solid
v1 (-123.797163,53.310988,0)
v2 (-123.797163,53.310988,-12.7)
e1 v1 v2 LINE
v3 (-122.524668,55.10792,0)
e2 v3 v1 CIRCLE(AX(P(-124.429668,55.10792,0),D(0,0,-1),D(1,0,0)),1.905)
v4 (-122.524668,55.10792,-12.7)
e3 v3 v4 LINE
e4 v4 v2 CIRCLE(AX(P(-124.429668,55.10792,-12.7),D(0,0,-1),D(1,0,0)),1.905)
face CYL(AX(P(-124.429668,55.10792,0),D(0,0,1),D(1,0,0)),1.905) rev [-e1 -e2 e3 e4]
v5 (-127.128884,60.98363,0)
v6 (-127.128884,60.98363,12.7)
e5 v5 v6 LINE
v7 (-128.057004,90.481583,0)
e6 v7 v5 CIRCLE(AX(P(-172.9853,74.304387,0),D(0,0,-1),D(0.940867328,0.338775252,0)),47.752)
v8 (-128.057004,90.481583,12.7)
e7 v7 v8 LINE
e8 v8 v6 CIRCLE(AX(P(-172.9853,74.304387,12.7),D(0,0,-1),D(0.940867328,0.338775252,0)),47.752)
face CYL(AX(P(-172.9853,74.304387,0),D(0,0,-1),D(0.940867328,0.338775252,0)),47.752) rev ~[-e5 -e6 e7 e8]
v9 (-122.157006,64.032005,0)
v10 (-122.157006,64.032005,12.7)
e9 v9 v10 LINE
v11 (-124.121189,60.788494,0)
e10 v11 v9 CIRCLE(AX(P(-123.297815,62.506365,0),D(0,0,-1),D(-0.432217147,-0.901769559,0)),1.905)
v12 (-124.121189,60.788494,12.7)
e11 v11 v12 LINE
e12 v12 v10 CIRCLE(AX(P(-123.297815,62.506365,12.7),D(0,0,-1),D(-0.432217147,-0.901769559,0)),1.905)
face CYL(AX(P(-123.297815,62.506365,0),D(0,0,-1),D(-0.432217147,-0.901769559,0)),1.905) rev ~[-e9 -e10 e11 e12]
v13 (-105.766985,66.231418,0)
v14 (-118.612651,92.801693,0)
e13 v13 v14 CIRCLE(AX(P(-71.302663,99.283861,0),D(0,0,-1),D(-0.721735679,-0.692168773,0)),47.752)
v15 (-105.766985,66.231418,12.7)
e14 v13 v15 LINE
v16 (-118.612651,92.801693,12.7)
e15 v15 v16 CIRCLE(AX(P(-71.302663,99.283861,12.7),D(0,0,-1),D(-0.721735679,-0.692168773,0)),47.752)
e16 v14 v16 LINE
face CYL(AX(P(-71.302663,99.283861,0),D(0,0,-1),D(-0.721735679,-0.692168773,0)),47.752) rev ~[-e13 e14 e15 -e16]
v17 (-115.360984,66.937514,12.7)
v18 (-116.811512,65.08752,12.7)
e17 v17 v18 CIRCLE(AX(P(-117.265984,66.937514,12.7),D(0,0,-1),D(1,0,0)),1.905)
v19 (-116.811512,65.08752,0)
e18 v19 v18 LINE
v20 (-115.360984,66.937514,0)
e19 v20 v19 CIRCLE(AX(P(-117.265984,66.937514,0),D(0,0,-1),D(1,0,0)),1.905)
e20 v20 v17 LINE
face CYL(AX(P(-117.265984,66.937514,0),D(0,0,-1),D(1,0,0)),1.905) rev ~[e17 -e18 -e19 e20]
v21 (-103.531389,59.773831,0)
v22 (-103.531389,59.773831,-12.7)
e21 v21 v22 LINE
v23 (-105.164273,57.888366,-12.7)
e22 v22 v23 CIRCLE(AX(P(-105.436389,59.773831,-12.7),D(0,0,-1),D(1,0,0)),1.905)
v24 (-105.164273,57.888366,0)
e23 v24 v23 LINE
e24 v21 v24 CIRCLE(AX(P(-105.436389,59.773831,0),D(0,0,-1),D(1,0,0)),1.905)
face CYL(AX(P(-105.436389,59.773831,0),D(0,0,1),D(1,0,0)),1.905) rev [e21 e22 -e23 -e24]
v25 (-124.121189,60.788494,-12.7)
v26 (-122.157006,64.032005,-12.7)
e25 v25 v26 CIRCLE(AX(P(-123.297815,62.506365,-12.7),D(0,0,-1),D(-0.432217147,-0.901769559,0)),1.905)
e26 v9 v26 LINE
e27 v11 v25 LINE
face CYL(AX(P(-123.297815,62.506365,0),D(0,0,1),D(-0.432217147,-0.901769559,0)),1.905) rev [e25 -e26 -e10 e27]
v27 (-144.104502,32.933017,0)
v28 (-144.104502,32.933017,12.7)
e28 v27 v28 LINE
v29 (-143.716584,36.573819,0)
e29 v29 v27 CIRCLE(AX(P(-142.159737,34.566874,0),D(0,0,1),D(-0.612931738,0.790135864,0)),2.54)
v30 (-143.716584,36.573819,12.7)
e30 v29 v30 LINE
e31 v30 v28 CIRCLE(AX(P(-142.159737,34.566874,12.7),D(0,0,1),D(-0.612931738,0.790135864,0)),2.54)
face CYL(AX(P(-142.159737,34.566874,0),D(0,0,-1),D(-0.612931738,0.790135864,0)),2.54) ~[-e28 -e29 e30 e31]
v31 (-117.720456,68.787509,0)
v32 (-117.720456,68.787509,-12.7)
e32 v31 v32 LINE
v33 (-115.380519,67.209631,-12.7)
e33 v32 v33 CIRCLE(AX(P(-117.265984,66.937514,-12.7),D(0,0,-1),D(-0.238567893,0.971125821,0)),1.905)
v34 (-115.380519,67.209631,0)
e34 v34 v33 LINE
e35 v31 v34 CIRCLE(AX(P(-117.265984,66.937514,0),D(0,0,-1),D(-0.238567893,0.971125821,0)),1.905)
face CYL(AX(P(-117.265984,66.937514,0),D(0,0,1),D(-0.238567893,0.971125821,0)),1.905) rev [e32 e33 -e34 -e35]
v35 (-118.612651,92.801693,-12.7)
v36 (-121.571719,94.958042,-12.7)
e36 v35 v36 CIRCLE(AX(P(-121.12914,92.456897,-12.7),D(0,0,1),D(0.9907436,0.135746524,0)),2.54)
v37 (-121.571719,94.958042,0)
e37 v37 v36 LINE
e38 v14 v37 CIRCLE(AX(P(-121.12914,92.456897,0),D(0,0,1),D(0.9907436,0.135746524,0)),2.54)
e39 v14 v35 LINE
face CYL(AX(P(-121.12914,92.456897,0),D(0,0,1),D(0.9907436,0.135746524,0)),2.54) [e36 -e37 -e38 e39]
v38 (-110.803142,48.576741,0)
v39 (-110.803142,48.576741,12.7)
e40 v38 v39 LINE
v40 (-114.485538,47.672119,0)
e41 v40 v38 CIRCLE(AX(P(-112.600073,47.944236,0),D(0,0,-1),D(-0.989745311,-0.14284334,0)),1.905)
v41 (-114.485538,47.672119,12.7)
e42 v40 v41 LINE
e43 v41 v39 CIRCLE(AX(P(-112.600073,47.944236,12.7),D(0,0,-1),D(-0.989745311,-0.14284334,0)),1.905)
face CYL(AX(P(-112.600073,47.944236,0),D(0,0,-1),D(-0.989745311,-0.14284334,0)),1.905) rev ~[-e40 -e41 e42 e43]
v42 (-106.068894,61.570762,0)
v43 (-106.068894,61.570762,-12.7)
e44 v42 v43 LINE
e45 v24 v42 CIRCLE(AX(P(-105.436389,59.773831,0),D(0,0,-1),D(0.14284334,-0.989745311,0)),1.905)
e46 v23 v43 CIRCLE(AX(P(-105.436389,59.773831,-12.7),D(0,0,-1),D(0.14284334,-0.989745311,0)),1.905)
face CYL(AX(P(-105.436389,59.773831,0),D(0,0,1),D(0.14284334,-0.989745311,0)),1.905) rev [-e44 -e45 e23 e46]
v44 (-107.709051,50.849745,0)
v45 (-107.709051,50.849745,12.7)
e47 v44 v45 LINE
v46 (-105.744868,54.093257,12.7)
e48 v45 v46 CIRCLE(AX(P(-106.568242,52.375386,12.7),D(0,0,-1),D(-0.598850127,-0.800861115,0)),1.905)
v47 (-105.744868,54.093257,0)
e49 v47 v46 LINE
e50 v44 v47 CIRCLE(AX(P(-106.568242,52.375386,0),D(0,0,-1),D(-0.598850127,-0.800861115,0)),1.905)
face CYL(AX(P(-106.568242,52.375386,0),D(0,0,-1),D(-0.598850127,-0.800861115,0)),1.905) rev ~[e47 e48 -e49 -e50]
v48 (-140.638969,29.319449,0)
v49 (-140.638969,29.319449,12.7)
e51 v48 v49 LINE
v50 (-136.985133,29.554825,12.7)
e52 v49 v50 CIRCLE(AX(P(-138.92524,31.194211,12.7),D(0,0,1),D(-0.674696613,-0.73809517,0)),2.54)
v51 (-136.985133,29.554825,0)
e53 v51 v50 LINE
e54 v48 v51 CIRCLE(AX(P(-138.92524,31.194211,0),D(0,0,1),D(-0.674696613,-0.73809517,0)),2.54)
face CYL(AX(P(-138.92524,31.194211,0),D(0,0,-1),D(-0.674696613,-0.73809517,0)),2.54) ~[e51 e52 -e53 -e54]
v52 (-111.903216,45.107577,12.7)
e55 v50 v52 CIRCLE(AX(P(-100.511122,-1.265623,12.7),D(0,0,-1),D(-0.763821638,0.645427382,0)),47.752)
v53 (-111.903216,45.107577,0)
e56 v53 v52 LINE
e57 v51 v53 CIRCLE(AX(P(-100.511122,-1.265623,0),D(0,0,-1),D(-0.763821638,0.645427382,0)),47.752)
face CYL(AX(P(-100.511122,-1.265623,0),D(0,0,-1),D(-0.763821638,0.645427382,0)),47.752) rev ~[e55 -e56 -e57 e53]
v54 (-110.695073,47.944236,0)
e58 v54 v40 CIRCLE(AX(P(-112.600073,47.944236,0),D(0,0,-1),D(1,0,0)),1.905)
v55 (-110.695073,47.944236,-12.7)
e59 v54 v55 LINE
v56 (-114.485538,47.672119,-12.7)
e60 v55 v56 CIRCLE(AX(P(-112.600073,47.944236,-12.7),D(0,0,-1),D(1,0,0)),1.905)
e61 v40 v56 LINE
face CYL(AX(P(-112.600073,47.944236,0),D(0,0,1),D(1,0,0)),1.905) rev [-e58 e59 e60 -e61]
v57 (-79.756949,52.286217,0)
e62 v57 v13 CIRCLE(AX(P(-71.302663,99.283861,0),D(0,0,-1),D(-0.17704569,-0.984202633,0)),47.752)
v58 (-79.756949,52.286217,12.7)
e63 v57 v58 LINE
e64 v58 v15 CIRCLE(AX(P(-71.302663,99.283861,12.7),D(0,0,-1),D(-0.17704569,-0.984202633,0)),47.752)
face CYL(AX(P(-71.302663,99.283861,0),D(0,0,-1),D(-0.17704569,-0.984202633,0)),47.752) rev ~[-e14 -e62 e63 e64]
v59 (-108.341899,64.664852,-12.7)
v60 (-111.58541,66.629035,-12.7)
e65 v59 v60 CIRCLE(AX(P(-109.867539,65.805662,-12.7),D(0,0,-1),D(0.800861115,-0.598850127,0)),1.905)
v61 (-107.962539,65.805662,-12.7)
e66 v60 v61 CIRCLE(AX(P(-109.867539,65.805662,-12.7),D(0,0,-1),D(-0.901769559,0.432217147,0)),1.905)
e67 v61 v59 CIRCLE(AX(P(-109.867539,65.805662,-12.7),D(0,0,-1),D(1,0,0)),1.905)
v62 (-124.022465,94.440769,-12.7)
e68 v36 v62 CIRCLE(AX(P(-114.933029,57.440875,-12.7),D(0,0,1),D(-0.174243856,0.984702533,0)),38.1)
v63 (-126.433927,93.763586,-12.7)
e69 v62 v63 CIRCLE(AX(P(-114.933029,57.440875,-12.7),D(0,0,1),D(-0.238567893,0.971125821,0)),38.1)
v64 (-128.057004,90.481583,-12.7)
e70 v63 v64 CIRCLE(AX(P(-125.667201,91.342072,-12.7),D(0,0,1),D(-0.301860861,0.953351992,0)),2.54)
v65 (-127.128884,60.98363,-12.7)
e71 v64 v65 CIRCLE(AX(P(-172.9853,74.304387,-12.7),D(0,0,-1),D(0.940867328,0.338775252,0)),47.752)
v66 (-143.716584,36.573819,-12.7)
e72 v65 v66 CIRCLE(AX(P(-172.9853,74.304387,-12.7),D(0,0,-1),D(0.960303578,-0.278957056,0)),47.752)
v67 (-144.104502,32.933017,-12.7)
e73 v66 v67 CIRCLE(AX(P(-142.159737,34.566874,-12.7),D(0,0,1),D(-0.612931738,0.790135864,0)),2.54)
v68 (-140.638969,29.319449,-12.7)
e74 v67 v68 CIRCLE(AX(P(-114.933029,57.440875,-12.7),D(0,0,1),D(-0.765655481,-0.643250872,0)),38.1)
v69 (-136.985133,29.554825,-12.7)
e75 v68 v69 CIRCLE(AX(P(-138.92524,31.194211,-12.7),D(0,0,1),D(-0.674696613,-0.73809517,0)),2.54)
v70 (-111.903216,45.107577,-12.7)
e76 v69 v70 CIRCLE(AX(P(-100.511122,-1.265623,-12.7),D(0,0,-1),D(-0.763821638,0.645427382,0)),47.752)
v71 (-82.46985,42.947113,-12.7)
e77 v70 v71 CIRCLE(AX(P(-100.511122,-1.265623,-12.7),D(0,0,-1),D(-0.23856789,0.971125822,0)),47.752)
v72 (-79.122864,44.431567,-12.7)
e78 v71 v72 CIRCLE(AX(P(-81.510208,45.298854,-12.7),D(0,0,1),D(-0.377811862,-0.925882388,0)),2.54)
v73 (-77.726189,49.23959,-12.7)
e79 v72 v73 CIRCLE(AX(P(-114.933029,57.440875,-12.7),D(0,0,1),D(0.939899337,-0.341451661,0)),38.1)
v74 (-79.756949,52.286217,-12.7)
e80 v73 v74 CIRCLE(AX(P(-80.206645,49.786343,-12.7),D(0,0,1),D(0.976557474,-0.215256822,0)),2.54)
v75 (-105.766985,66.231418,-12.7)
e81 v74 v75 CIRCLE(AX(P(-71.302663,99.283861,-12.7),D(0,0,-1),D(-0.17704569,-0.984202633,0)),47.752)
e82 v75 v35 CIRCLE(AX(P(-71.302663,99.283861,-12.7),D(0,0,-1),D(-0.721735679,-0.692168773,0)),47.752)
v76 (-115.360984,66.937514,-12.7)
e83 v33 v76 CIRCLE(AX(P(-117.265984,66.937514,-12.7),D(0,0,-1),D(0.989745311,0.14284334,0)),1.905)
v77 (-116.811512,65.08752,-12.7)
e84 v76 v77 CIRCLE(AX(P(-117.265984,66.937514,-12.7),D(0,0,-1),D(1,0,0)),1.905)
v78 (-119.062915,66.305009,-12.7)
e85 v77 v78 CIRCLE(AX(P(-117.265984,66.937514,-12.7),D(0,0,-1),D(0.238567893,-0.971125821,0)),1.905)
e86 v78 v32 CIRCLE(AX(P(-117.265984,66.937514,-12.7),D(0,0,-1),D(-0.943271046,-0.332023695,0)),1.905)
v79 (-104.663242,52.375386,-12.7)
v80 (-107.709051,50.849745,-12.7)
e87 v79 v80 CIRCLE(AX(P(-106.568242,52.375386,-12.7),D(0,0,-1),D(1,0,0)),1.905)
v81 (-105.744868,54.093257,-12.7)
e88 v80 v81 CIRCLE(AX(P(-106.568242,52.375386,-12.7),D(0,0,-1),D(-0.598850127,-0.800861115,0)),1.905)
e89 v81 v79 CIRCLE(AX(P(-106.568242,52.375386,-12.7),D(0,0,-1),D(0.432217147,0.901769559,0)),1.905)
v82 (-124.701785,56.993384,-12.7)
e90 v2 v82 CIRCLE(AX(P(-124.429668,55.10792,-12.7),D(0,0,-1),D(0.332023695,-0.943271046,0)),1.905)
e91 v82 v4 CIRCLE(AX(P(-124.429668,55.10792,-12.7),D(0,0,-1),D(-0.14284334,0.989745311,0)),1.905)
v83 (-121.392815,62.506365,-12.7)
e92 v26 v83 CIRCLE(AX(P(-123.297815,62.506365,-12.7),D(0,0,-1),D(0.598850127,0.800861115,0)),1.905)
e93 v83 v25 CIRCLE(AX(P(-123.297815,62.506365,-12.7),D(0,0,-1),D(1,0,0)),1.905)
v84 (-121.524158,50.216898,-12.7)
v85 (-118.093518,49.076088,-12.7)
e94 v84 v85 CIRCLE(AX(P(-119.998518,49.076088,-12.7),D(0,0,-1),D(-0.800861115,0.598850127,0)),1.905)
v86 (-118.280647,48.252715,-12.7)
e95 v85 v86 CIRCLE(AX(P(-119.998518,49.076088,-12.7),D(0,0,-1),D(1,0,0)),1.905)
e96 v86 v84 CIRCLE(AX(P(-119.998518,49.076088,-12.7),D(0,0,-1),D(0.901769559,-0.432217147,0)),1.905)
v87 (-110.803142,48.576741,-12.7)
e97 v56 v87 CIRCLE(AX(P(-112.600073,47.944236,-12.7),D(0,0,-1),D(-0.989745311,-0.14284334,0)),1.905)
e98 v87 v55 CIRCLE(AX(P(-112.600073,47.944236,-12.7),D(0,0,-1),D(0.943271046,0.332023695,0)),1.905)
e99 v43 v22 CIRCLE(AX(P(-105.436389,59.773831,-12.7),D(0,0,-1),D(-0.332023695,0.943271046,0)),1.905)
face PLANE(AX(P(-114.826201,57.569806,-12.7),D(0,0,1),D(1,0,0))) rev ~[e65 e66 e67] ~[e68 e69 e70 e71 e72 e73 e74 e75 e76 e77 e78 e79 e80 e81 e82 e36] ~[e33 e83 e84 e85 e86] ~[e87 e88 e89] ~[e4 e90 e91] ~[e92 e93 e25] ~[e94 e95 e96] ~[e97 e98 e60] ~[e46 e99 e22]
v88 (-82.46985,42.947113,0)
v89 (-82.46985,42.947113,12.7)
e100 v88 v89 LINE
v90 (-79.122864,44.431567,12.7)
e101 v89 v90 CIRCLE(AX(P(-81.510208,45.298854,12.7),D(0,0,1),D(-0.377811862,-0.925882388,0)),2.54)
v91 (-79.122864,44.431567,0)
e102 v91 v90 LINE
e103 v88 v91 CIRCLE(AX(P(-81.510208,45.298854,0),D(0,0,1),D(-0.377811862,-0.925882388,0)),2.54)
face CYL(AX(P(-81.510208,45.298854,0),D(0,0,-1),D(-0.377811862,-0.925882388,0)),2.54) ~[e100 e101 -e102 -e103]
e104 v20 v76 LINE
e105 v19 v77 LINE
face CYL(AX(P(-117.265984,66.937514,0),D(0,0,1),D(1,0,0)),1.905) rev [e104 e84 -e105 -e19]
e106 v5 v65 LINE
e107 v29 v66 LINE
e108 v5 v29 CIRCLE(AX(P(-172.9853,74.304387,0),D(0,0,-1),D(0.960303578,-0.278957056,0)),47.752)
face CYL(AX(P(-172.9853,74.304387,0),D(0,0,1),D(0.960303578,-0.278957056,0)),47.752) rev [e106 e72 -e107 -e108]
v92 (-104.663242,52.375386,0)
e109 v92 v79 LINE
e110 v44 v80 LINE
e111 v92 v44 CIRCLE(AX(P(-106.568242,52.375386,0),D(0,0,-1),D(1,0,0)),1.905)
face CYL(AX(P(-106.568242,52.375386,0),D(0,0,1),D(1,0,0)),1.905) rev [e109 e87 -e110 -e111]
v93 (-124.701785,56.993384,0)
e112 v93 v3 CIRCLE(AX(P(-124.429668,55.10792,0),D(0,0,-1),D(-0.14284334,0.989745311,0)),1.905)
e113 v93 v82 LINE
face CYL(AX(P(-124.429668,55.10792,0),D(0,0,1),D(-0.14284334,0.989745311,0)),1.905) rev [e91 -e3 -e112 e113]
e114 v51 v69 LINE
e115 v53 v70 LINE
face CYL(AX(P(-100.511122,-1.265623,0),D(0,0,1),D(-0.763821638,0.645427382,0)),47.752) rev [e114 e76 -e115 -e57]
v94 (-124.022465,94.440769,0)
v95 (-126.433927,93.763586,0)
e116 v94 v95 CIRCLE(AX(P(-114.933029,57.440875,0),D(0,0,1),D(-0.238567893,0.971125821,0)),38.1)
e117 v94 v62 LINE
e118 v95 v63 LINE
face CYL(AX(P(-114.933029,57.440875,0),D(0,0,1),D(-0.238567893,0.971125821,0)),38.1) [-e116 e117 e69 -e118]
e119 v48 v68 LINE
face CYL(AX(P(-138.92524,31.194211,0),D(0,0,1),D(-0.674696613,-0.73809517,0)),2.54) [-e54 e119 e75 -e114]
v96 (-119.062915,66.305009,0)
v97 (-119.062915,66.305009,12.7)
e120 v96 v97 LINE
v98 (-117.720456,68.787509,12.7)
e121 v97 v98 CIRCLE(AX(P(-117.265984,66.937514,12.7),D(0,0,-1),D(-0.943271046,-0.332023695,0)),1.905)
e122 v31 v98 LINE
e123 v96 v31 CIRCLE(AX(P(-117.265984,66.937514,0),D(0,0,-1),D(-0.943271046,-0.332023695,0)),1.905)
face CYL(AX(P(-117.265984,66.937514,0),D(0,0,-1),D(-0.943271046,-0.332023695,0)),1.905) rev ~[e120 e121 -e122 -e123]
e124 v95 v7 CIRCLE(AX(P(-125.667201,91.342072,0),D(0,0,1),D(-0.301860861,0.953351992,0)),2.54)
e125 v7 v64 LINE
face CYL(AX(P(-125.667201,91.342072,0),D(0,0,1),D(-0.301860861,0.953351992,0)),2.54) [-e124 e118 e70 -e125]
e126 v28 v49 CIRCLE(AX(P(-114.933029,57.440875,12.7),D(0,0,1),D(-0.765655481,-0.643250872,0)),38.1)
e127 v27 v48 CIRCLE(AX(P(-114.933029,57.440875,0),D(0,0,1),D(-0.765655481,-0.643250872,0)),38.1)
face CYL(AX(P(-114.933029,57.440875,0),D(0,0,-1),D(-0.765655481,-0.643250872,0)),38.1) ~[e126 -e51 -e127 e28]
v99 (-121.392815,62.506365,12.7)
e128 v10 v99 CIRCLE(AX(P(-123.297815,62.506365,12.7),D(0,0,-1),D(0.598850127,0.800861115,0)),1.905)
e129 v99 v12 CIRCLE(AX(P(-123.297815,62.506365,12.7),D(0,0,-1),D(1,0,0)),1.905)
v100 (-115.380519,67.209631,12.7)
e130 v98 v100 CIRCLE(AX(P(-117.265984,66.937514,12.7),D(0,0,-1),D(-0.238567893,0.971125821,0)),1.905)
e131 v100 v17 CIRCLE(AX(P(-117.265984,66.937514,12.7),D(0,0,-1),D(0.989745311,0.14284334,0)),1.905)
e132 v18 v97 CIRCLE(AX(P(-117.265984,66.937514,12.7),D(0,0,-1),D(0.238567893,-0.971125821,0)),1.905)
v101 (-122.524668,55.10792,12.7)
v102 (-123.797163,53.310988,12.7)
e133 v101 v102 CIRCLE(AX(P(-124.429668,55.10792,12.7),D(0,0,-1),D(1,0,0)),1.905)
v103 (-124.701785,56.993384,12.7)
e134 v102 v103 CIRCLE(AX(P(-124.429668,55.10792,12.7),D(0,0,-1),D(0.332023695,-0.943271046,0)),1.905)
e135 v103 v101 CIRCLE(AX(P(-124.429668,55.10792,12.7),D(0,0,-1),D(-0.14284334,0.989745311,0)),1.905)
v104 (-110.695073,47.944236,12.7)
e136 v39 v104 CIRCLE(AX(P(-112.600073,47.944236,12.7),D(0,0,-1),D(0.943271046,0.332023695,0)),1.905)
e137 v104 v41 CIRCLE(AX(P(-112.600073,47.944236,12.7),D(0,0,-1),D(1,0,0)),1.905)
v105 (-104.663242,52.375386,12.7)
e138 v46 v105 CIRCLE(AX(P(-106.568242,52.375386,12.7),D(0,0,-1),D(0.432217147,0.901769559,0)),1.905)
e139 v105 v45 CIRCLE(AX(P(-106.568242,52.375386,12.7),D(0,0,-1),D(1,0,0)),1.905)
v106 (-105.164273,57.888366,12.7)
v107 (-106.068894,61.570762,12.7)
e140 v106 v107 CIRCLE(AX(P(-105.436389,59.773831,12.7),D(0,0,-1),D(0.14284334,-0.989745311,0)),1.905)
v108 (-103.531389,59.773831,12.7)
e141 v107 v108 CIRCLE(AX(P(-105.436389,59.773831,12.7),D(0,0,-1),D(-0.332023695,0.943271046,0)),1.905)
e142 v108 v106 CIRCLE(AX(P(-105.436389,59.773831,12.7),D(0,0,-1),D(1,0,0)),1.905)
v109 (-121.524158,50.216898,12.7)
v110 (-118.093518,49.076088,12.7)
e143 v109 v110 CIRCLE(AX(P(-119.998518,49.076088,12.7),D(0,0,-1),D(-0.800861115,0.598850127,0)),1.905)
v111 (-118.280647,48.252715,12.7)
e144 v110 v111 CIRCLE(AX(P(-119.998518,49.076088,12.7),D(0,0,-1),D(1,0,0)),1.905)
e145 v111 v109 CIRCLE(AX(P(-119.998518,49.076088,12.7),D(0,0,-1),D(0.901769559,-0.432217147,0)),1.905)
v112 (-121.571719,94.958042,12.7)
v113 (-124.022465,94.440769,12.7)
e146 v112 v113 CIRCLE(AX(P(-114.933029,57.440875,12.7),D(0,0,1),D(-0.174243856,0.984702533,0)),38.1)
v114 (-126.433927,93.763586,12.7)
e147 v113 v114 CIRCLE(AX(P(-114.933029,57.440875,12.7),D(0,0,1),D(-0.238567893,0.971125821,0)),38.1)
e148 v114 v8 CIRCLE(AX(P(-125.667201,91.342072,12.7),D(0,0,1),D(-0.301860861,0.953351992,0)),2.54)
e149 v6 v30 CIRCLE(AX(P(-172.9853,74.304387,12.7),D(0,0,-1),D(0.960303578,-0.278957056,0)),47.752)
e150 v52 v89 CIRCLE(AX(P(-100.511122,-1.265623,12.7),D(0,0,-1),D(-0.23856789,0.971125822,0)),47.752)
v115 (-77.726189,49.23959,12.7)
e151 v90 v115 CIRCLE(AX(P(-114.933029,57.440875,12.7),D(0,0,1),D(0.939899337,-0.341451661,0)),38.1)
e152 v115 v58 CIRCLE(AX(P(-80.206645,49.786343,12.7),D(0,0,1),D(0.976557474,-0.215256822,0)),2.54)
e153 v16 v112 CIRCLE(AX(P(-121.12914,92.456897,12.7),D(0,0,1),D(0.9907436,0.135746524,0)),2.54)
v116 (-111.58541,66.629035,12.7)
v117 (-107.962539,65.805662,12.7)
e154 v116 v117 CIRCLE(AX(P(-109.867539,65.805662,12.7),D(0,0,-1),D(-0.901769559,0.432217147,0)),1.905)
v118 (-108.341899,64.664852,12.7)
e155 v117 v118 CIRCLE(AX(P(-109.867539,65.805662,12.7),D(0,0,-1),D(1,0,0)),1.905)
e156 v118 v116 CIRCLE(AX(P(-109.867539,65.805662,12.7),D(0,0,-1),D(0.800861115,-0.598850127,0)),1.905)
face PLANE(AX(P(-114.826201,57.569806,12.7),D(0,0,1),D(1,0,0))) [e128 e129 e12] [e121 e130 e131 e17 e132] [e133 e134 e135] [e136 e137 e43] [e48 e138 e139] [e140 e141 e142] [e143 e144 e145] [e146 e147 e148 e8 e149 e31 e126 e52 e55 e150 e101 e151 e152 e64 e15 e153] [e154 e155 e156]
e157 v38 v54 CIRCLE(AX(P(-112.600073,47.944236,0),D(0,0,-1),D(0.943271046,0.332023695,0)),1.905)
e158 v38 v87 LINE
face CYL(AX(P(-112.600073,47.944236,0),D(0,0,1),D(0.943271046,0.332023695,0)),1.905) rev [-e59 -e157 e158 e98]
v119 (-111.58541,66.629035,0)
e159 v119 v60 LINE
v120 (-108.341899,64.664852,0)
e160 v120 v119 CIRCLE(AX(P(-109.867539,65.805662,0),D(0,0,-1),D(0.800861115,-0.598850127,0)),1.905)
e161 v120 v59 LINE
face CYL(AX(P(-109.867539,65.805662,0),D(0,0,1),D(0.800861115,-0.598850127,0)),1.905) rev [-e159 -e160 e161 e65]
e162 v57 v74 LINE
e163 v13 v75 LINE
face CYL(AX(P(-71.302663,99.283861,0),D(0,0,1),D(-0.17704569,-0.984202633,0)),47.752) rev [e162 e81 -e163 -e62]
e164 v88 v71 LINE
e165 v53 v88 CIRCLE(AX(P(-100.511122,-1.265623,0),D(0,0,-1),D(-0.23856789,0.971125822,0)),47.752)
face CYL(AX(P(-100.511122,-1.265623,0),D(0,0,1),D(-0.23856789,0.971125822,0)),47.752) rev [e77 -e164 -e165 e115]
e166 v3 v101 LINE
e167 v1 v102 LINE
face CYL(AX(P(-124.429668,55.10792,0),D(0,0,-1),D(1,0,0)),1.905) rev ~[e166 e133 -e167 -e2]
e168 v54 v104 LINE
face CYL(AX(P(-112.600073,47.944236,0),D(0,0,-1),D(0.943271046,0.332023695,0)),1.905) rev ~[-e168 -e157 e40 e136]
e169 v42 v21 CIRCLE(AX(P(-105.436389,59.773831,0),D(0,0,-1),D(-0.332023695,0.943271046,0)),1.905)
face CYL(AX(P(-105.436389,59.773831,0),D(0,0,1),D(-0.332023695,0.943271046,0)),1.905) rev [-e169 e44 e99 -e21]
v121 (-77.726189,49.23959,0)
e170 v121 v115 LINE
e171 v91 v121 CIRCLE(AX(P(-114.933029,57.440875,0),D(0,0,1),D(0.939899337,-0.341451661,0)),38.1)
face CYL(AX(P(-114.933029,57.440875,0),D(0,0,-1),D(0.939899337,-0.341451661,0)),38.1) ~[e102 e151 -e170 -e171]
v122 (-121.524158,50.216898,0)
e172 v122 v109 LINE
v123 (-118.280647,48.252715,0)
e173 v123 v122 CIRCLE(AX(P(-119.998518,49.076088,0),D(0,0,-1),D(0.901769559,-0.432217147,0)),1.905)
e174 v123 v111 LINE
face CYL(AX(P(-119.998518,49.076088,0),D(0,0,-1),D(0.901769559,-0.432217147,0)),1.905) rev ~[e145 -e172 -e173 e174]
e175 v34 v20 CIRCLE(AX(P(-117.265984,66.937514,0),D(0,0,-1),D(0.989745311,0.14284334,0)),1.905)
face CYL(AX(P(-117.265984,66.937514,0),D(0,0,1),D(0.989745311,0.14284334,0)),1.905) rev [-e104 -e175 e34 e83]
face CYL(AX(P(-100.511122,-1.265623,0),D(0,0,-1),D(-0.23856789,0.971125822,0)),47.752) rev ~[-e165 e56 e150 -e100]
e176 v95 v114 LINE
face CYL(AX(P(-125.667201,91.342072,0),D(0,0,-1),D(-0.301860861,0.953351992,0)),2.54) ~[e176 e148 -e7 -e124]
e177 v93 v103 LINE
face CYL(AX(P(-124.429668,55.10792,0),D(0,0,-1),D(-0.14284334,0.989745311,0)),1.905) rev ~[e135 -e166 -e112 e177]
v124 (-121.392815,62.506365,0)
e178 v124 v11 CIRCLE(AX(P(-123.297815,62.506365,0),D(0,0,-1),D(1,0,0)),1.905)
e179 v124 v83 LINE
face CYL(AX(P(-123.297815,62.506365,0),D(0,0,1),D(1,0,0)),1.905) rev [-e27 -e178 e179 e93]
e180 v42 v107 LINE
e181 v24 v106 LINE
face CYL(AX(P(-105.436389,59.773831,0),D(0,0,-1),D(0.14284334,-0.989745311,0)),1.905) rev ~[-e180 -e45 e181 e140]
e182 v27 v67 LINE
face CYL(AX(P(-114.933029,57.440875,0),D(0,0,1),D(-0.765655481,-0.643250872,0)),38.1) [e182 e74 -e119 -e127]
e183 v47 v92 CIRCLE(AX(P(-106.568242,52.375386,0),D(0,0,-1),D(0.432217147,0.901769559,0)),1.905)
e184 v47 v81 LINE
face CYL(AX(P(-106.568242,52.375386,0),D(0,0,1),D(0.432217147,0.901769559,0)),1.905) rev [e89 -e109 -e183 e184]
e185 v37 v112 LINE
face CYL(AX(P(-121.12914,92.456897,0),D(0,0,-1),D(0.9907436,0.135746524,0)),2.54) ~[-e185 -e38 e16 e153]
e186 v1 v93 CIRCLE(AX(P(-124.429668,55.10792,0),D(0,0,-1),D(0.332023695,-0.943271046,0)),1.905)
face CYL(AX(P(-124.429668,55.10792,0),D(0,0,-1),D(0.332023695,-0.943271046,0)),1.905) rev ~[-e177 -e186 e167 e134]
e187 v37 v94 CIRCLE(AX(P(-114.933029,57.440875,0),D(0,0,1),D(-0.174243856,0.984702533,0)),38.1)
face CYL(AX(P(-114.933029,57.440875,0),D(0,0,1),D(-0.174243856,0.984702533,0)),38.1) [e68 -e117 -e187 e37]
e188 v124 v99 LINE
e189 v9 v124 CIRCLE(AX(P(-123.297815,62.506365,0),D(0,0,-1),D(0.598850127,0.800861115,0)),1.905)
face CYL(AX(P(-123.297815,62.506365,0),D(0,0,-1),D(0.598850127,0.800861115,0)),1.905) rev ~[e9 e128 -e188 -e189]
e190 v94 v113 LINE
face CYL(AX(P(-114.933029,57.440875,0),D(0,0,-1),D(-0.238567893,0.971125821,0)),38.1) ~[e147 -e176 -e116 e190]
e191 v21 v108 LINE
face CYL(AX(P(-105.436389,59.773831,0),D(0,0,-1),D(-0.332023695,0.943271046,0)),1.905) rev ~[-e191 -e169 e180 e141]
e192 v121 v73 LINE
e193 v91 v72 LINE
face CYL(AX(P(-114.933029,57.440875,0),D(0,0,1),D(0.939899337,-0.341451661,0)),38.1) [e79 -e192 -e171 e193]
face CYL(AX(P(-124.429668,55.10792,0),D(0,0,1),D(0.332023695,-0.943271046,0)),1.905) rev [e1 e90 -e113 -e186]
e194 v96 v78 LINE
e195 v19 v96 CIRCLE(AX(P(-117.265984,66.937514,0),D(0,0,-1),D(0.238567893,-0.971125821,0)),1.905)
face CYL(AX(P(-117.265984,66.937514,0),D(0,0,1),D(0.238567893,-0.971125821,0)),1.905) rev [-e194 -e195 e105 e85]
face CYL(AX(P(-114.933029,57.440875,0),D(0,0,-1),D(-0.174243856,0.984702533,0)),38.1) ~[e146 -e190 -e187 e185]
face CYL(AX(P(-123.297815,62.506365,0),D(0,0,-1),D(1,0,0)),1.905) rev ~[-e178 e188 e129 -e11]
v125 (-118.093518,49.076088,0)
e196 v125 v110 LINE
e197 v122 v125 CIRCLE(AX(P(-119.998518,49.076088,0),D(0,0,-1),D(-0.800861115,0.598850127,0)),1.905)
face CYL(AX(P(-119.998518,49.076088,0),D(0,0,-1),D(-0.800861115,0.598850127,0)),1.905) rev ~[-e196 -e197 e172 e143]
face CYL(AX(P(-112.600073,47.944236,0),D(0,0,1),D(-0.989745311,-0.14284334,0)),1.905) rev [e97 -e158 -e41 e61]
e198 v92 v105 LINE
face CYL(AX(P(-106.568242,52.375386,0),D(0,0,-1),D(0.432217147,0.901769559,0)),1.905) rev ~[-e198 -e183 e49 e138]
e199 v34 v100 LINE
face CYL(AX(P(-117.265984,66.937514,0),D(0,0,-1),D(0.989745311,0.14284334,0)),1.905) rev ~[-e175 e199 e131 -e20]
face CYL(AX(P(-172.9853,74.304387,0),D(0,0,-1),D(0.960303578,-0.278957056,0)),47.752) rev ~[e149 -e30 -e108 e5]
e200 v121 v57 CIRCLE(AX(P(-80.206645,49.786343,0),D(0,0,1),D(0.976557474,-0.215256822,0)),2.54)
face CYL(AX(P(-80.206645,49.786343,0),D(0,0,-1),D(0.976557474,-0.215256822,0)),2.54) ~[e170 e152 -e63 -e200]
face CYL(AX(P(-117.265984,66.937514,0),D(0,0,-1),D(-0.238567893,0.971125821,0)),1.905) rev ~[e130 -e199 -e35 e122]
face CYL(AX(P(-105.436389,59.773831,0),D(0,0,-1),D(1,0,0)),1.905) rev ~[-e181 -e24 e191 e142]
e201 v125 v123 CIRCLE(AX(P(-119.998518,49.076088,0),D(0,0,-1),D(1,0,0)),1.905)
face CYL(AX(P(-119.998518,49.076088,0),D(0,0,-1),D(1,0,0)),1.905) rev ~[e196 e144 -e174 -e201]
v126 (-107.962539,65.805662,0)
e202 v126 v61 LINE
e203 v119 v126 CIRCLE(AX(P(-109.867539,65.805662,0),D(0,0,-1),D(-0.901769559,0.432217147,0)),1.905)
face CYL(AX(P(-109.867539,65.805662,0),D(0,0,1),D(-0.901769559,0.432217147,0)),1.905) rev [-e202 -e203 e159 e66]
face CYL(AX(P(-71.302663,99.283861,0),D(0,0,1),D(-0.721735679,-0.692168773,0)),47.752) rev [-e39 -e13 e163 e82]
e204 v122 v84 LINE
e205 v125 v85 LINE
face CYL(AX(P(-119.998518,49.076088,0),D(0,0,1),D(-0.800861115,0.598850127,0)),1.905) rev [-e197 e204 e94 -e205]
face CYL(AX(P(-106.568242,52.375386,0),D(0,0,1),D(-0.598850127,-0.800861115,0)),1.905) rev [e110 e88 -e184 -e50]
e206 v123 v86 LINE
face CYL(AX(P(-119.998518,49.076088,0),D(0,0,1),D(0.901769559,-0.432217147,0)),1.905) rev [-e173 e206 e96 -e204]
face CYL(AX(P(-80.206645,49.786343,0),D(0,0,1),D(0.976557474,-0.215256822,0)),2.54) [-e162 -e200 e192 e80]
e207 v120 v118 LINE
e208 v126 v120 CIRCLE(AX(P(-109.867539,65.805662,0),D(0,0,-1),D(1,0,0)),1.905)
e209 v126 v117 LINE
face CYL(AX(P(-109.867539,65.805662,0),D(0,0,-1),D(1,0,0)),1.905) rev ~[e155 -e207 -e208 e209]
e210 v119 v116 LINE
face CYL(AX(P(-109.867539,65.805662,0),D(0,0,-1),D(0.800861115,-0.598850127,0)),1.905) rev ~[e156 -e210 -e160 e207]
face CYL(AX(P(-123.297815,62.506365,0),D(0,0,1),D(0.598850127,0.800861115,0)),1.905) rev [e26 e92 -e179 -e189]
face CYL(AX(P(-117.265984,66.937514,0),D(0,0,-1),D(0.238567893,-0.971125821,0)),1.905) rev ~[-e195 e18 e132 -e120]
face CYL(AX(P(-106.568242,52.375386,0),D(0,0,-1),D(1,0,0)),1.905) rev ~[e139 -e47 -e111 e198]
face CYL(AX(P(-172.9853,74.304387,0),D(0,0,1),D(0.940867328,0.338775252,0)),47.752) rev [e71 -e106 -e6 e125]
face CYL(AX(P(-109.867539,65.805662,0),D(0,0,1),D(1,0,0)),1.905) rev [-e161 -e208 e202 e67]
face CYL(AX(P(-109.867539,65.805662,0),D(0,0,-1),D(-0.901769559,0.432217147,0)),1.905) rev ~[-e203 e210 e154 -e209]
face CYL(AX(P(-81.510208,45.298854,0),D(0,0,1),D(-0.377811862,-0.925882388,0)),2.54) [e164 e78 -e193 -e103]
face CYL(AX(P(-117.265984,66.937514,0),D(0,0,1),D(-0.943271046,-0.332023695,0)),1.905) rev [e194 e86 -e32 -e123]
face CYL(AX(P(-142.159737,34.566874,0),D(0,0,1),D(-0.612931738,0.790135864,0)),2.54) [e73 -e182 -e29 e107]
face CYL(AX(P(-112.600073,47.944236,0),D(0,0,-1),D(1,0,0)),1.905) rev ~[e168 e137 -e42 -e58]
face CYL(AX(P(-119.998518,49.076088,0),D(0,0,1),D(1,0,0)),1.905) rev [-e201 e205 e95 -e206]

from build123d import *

# Parameters (mm, degrees)
F1_DEPTH      = 12.7
F1_DEPTH_BACK = 12.7


with BuildPart() as f1:
    # F0 (on Top) → F1 (new body, two sides)
    with BuildSketch(Plane.XY) as f1_sk:
        with BuildLine():
            ThreePointArc((-111.9032161657, 45.1075771975), (-104.9388147825, 49.6046967237), (-102.233028536, 57.4408750939))
            ThreePointArc((-102.233028536, 57.4408750939), (-103.1495920186, 62.1780286527), (-105.7669850463, 66.2314181228))
            ThreePointArc((-105.7669850463, 66.2314181228), (-111.3902737379, 69.6367304735), (-117.9628407751, 69.7741730225))
            ThreePointArc((-117.9628407751, 69.7741730225), (-123.7235718813, 66.6069182803), (-127.1288839844, 60.9836296554))
            ThreePointArc((-127.1288839844, 60.9836296554), (-124.0990716757, 48.6503316999), (-111.9032161657, 45.1075771975))
        make_face()
        with BuildLine():
            ThreePointArc((-119.0629153027, 66.3050093604), (-118.9416645433, 67.8436709883), (-117.720455796, 68.7875091882))
            ThreePointArc((-117.720455796, 68.7875091882), (-116.2009205472, 68.5169653295), (-115.3805191431, 67.2096310616))
            ThreePointArc((-115.3805191431, 67.2096310616), (-113.4541917392, 67.1074092571), (-111.5854100251, 66.6290354813))
            ThreePointArc((-111.5854100251, 66.6290354813), (-109.4453537915, 67.6632905836), (-107.9625390148, 65.8056618162))
            ThreePointArc((-107.9625390148, 65.8056618162), (-108.0598650939, 65.2045461904), (-108.3418985903, 64.6648523252))
            ThreePointArc((-108.3418985903, 64.6648523252), (-107.0520611513, 63.2304514239), (-106.0688942695, 61.5707618605))
            ThreePointArc((-106.0688942695, 61.5707618605), (-104.3354570915, 61.3284924248), (-103.531389131, 59.773830518))
            ThreePointArc((-103.531389131, 59.773830518), (-103.9963531849, 58.526705234), (-105.1642725683, 57.8883657009))
            ThreePointArc((-105.1642725683, 57.8883657009), (-105.1565898795, 57.6646790168), (-105.154028536, 57.4408750939))
            ThreePointArc((-105.154028536, 57.4408750939), (-105.3028711794, 55.7411956283), (-105.7448681486, 54.0932565829))
            ThreePointArc((-105.7448681486, 54.0932565829), (-104.956169881, 53.3903974367), (-104.6632418137, 52.3753855727))
            ThreePointArc((-104.6632418137, 52.3753855727), (-105.7150762613, 50.6721141497), (-107.7090513047, 50.8497451481))
            ThreePointArc((-107.7090513047, 50.8497451481), (-109.143452206, 49.5599077092), (-110.8031417694, 48.5767408274))
            ThreePointArc((-110.8031417694, 48.5767408274), (-110.7222846244, 48.2650711548), (-110.6950731119, 47.9442356888))
            ThreePointArc((-110.6950731119, 47.9442356888), (-112.4636646746, 46.0441257609), (-114.485537929, 47.6721191262))
            ThreePointArc((-114.485537929, 47.6721191262), (-116.4118653329, 47.7743409307), (-118.280647047, 48.2527147064))
            ThreePointArc((-118.280647047, 48.2527147064), (-120.9853017302, 47.4465844645), (-121.5241584818, 50.2168978626))
            ThreePointArc((-121.5241584818, 50.2168978626), (-122.8139959207, 51.6512987638), (-123.7971628025, 53.3109883272))
            ThreePointArc((-123.7971628025, 53.3109883272), (-126.2796626303, 54.6534478339), (-124.7017845037, 56.9933844868))
            ThreePointArc((-124.7017845037, 56.9933844868), (-124.5995626992, 58.9197118907), (-124.1211889235, 60.7884936048))
            ThreePointArc((-124.1211889235, 60.7884936048), (-124.9273191654, 63.493148288), (-122.1570057673, 64.0320050396))
            ThreePointArc((-122.1570057673, 64.0320050396), (-120.7226048661, 65.3218424786), (-119.0629153027, 66.3050093604))
        make_face(mode=Mode.SUBTRACT)
        with BuildLine():
            ThreePointArc((-105.7669850463, 66.2314181228), (-103.1495920186, 62.1780286527), (-102.233028536, 57.4408750939))
            ThreePointArc((-102.233028536, 57.4408750939), (-104.9388147825, 49.6046967237), (-111.9032161657, 45.1075771975))
            ThreePointArc((-111.9032161657, 45.1075771975), (-97.0154400661, 46.358254472), (-82.4698502509, 42.9471127619))
            ThreePointArc((-82.4698502509, 42.9471127619), (-80.4804099193, 42.9769764127), (-79.1228638065, 44.4315668094))
            ThreePointArc((-79.1228638065, 44.4315668094), (-78.3454622215, 46.8126113043), (-77.7261887634, 49.2395901865))
            ThreePointArc((-77.7261887634, 49.2395901865), (-78.0931330297, 51.1951250433), (-79.7569486957, 52.2862172026))
            ThreePointArc((-79.7569486957, 52.2862172026), (-93.8663258144, 57.199011108), (-105.7669850463, 66.2314181228))
        make_face()
        with BuildLine():
            ThreePointArc((-136.9851331378, 29.5548252922), (-125.675840017, 39.3175075021), (-111.9032161657, 45.1075771975))
            ThreePointArc((-111.9032161657, 45.1075771975), (-124.0990716757, 48.6503316999), (-127.1288839844, 60.9836296554))
            ThreePointArc((-127.1288839844, 60.9836296554), (-133.4896537424, 47.4650986561), (-143.7165840545, 36.5738191773))
            ThreePointArc((-143.7165840545, 36.5738191773), (-144.6854415401, 34.8359814855), (-144.1045023609, 32.9330168666))
            ThreePointArc((-144.1045023609, 32.9330168666), (-142.4311581332, 31.0692450977), (-140.6389694958, 29.3194491099))
            ThreePointArc((-140.6389694958, 29.3194491099), (-138.7619544987, 28.6594647379), (-136.9851331378, 29.5548252922))
        make_face()
        with BuildLine():
            ThreePointArc((-111.5854100251, 66.6290354813), (-113.4541917392, 67.1074092571), (-115.3805191431, 67.2096310616))
            ThreePointArc((-115.3805191431, 67.2096310616), (-115.3658740322, 67.0739229362), (-115.3609839601, 66.9375144989))
            ThreePointArc((-115.3609839601, 66.9375144989), (-115.7668519034, 65.7620877354), (-116.8115121243, 65.0875198096))
            ThreePointArc((-116.8115121243, 65.0875198096), (-118.1721404496, 65.2618339158), (-119.0629153027, 66.3050093604))
            ThreePointArc((-119.0629153027, 66.3050093604), (-120.7226048661, 65.3218424786), (-122.1570057673, 64.0320050396))
            ThreePointArc((-122.1570057673, 64.0320050396), (-121.5945438354, 63.3595301674), (-121.3928152584, 62.5063646151))
            ThreePointArc((-121.3928152584, 62.5063646151), (-122.2828033944, 60.8942926824), (-124.1211889235, 60.7884936048))
            ThreePointArc((-124.1211889235, 60.7884936048), (-124.5995626992, 58.9197118907), (-124.7017845037, 56.9933844868))
            ThreePointArc((-124.7017845037, 56.9933844868), (-123.182542657, 56.5479556158), (-122.5246679411, 55.1079196698))
            ThreePointArc((-122.5246679411, 55.1079196698), (-122.8750060343, 54.0069876303), (-123.7971628025, 53.3109883272))
            ThreePointArc((-123.7971628025, 53.3109883272), (-122.8139959207, 51.6512987638), (-121.5241584818, 50.2168978626))
            ThreePointArc((-121.5241584818, 50.2168978626), (-119.3974024314, 50.8837622924), (-118.0935180572, 49.0760883715))
            ThreePointArc((-118.0935180572, 49.0760883715), (-118.1408892899, 48.6539031482), (-118.280647047, 48.2527147064))
            ThreePointArc((-118.280647047, 48.2527147064), (-116.4118653329, 47.7743409307), (-114.485537929, 47.6721191262))
            ThreePointArc((-114.485537929, 47.6721191262), (-113.0545449478, 49.7942303781), (-110.8031417694, 48.5767408274))
            ThreePointArc((-110.8031417694, 48.5767408274), (-109.143452206, 49.5599077092), (-107.7090513047, 50.8497451481))
            ThreePointArc((-107.7090513047, 50.8497451481), (-108.1977457206, 53.3621692456), (-105.7448681486, 54.0932565829))
            ThreePointArc((-105.7448681486, 54.0932565829), (-105.3028711794, 55.7411956283), (-105.154028536, 57.4408750939))
            ThreePointArc((-105.154028536, 57.4408750939), (-105.1565898795, 57.6646790168), (-105.1642725683, 57.8883657009))
            ThreePointArc((-105.1642725683, 57.8883657009), (-107.2863838203, 59.3193586821), (-106.0688942695, 61.5707618605))
            ThreePointArc((-106.0688942695, 61.5707618605), (-107.0520611513, 63.2304514239), (-108.3418985903, 64.6648523252))
            ThreePointArc((-108.3418985903, 64.6648523252), (-110.8543226878, 64.1761579093), (-111.5854100251, 66.6290354813))
        make_face()
        with BuildLine():
            ThreePointArc((-117.9628407751, 69.7741730225), (-111.3902737379, 69.6367304735), (-105.7669850463, 66.2314181228))
            ThreePointArc((-105.7669850463, 66.2314181228), (-114.2939916511, 78.4992719445), (-118.6126513027, 92.8016933424))
            ThreePointArc((-118.6126513027, 92.8016933424), (-119.6332341487, 94.5096673835), (-121.5717194408, 94.9580416056))
            ThreePointArc((-121.5717194408, 94.9580416056), (-122.8013442638, 94.7195500651), (-124.0224652534, 94.4407688797))
            Line((-124.0224652534, 94.4407688797), (-117.9628407751, 69.7741730225))
        make_face()
        with BuildLine():
            ThreePointArc((-127.1288839844, 60.9836296554), (-123.7235718813, 66.6069182803), (-117.9628407751, 69.7741730225))
            Line((-117.9628407751, 69.7741730225), (-124.0224652534, 94.4407688797))
            ThreePointArc((-124.0224652534, 94.4407688797), (-125.2337626594, 94.1219993476), (-126.4339273489, 93.7635859852))
            ThreePointArc((-126.4339273489, 93.7635859852), (-127.9439980797, 92.4680355004), (-128.0570037746, 90.4815827868))
            ThreePointArc((-128.0570037746, 90.4815827868), (-125.2569195337, 75.8061065896), (-127.1288839844, 60.9836296554))
        make_face()
    extrude(amount=F1_DEPTH)
    extrude(f1_sk.sketch, amount=-F1_DEPTH_BACK)


solid = f1.part
